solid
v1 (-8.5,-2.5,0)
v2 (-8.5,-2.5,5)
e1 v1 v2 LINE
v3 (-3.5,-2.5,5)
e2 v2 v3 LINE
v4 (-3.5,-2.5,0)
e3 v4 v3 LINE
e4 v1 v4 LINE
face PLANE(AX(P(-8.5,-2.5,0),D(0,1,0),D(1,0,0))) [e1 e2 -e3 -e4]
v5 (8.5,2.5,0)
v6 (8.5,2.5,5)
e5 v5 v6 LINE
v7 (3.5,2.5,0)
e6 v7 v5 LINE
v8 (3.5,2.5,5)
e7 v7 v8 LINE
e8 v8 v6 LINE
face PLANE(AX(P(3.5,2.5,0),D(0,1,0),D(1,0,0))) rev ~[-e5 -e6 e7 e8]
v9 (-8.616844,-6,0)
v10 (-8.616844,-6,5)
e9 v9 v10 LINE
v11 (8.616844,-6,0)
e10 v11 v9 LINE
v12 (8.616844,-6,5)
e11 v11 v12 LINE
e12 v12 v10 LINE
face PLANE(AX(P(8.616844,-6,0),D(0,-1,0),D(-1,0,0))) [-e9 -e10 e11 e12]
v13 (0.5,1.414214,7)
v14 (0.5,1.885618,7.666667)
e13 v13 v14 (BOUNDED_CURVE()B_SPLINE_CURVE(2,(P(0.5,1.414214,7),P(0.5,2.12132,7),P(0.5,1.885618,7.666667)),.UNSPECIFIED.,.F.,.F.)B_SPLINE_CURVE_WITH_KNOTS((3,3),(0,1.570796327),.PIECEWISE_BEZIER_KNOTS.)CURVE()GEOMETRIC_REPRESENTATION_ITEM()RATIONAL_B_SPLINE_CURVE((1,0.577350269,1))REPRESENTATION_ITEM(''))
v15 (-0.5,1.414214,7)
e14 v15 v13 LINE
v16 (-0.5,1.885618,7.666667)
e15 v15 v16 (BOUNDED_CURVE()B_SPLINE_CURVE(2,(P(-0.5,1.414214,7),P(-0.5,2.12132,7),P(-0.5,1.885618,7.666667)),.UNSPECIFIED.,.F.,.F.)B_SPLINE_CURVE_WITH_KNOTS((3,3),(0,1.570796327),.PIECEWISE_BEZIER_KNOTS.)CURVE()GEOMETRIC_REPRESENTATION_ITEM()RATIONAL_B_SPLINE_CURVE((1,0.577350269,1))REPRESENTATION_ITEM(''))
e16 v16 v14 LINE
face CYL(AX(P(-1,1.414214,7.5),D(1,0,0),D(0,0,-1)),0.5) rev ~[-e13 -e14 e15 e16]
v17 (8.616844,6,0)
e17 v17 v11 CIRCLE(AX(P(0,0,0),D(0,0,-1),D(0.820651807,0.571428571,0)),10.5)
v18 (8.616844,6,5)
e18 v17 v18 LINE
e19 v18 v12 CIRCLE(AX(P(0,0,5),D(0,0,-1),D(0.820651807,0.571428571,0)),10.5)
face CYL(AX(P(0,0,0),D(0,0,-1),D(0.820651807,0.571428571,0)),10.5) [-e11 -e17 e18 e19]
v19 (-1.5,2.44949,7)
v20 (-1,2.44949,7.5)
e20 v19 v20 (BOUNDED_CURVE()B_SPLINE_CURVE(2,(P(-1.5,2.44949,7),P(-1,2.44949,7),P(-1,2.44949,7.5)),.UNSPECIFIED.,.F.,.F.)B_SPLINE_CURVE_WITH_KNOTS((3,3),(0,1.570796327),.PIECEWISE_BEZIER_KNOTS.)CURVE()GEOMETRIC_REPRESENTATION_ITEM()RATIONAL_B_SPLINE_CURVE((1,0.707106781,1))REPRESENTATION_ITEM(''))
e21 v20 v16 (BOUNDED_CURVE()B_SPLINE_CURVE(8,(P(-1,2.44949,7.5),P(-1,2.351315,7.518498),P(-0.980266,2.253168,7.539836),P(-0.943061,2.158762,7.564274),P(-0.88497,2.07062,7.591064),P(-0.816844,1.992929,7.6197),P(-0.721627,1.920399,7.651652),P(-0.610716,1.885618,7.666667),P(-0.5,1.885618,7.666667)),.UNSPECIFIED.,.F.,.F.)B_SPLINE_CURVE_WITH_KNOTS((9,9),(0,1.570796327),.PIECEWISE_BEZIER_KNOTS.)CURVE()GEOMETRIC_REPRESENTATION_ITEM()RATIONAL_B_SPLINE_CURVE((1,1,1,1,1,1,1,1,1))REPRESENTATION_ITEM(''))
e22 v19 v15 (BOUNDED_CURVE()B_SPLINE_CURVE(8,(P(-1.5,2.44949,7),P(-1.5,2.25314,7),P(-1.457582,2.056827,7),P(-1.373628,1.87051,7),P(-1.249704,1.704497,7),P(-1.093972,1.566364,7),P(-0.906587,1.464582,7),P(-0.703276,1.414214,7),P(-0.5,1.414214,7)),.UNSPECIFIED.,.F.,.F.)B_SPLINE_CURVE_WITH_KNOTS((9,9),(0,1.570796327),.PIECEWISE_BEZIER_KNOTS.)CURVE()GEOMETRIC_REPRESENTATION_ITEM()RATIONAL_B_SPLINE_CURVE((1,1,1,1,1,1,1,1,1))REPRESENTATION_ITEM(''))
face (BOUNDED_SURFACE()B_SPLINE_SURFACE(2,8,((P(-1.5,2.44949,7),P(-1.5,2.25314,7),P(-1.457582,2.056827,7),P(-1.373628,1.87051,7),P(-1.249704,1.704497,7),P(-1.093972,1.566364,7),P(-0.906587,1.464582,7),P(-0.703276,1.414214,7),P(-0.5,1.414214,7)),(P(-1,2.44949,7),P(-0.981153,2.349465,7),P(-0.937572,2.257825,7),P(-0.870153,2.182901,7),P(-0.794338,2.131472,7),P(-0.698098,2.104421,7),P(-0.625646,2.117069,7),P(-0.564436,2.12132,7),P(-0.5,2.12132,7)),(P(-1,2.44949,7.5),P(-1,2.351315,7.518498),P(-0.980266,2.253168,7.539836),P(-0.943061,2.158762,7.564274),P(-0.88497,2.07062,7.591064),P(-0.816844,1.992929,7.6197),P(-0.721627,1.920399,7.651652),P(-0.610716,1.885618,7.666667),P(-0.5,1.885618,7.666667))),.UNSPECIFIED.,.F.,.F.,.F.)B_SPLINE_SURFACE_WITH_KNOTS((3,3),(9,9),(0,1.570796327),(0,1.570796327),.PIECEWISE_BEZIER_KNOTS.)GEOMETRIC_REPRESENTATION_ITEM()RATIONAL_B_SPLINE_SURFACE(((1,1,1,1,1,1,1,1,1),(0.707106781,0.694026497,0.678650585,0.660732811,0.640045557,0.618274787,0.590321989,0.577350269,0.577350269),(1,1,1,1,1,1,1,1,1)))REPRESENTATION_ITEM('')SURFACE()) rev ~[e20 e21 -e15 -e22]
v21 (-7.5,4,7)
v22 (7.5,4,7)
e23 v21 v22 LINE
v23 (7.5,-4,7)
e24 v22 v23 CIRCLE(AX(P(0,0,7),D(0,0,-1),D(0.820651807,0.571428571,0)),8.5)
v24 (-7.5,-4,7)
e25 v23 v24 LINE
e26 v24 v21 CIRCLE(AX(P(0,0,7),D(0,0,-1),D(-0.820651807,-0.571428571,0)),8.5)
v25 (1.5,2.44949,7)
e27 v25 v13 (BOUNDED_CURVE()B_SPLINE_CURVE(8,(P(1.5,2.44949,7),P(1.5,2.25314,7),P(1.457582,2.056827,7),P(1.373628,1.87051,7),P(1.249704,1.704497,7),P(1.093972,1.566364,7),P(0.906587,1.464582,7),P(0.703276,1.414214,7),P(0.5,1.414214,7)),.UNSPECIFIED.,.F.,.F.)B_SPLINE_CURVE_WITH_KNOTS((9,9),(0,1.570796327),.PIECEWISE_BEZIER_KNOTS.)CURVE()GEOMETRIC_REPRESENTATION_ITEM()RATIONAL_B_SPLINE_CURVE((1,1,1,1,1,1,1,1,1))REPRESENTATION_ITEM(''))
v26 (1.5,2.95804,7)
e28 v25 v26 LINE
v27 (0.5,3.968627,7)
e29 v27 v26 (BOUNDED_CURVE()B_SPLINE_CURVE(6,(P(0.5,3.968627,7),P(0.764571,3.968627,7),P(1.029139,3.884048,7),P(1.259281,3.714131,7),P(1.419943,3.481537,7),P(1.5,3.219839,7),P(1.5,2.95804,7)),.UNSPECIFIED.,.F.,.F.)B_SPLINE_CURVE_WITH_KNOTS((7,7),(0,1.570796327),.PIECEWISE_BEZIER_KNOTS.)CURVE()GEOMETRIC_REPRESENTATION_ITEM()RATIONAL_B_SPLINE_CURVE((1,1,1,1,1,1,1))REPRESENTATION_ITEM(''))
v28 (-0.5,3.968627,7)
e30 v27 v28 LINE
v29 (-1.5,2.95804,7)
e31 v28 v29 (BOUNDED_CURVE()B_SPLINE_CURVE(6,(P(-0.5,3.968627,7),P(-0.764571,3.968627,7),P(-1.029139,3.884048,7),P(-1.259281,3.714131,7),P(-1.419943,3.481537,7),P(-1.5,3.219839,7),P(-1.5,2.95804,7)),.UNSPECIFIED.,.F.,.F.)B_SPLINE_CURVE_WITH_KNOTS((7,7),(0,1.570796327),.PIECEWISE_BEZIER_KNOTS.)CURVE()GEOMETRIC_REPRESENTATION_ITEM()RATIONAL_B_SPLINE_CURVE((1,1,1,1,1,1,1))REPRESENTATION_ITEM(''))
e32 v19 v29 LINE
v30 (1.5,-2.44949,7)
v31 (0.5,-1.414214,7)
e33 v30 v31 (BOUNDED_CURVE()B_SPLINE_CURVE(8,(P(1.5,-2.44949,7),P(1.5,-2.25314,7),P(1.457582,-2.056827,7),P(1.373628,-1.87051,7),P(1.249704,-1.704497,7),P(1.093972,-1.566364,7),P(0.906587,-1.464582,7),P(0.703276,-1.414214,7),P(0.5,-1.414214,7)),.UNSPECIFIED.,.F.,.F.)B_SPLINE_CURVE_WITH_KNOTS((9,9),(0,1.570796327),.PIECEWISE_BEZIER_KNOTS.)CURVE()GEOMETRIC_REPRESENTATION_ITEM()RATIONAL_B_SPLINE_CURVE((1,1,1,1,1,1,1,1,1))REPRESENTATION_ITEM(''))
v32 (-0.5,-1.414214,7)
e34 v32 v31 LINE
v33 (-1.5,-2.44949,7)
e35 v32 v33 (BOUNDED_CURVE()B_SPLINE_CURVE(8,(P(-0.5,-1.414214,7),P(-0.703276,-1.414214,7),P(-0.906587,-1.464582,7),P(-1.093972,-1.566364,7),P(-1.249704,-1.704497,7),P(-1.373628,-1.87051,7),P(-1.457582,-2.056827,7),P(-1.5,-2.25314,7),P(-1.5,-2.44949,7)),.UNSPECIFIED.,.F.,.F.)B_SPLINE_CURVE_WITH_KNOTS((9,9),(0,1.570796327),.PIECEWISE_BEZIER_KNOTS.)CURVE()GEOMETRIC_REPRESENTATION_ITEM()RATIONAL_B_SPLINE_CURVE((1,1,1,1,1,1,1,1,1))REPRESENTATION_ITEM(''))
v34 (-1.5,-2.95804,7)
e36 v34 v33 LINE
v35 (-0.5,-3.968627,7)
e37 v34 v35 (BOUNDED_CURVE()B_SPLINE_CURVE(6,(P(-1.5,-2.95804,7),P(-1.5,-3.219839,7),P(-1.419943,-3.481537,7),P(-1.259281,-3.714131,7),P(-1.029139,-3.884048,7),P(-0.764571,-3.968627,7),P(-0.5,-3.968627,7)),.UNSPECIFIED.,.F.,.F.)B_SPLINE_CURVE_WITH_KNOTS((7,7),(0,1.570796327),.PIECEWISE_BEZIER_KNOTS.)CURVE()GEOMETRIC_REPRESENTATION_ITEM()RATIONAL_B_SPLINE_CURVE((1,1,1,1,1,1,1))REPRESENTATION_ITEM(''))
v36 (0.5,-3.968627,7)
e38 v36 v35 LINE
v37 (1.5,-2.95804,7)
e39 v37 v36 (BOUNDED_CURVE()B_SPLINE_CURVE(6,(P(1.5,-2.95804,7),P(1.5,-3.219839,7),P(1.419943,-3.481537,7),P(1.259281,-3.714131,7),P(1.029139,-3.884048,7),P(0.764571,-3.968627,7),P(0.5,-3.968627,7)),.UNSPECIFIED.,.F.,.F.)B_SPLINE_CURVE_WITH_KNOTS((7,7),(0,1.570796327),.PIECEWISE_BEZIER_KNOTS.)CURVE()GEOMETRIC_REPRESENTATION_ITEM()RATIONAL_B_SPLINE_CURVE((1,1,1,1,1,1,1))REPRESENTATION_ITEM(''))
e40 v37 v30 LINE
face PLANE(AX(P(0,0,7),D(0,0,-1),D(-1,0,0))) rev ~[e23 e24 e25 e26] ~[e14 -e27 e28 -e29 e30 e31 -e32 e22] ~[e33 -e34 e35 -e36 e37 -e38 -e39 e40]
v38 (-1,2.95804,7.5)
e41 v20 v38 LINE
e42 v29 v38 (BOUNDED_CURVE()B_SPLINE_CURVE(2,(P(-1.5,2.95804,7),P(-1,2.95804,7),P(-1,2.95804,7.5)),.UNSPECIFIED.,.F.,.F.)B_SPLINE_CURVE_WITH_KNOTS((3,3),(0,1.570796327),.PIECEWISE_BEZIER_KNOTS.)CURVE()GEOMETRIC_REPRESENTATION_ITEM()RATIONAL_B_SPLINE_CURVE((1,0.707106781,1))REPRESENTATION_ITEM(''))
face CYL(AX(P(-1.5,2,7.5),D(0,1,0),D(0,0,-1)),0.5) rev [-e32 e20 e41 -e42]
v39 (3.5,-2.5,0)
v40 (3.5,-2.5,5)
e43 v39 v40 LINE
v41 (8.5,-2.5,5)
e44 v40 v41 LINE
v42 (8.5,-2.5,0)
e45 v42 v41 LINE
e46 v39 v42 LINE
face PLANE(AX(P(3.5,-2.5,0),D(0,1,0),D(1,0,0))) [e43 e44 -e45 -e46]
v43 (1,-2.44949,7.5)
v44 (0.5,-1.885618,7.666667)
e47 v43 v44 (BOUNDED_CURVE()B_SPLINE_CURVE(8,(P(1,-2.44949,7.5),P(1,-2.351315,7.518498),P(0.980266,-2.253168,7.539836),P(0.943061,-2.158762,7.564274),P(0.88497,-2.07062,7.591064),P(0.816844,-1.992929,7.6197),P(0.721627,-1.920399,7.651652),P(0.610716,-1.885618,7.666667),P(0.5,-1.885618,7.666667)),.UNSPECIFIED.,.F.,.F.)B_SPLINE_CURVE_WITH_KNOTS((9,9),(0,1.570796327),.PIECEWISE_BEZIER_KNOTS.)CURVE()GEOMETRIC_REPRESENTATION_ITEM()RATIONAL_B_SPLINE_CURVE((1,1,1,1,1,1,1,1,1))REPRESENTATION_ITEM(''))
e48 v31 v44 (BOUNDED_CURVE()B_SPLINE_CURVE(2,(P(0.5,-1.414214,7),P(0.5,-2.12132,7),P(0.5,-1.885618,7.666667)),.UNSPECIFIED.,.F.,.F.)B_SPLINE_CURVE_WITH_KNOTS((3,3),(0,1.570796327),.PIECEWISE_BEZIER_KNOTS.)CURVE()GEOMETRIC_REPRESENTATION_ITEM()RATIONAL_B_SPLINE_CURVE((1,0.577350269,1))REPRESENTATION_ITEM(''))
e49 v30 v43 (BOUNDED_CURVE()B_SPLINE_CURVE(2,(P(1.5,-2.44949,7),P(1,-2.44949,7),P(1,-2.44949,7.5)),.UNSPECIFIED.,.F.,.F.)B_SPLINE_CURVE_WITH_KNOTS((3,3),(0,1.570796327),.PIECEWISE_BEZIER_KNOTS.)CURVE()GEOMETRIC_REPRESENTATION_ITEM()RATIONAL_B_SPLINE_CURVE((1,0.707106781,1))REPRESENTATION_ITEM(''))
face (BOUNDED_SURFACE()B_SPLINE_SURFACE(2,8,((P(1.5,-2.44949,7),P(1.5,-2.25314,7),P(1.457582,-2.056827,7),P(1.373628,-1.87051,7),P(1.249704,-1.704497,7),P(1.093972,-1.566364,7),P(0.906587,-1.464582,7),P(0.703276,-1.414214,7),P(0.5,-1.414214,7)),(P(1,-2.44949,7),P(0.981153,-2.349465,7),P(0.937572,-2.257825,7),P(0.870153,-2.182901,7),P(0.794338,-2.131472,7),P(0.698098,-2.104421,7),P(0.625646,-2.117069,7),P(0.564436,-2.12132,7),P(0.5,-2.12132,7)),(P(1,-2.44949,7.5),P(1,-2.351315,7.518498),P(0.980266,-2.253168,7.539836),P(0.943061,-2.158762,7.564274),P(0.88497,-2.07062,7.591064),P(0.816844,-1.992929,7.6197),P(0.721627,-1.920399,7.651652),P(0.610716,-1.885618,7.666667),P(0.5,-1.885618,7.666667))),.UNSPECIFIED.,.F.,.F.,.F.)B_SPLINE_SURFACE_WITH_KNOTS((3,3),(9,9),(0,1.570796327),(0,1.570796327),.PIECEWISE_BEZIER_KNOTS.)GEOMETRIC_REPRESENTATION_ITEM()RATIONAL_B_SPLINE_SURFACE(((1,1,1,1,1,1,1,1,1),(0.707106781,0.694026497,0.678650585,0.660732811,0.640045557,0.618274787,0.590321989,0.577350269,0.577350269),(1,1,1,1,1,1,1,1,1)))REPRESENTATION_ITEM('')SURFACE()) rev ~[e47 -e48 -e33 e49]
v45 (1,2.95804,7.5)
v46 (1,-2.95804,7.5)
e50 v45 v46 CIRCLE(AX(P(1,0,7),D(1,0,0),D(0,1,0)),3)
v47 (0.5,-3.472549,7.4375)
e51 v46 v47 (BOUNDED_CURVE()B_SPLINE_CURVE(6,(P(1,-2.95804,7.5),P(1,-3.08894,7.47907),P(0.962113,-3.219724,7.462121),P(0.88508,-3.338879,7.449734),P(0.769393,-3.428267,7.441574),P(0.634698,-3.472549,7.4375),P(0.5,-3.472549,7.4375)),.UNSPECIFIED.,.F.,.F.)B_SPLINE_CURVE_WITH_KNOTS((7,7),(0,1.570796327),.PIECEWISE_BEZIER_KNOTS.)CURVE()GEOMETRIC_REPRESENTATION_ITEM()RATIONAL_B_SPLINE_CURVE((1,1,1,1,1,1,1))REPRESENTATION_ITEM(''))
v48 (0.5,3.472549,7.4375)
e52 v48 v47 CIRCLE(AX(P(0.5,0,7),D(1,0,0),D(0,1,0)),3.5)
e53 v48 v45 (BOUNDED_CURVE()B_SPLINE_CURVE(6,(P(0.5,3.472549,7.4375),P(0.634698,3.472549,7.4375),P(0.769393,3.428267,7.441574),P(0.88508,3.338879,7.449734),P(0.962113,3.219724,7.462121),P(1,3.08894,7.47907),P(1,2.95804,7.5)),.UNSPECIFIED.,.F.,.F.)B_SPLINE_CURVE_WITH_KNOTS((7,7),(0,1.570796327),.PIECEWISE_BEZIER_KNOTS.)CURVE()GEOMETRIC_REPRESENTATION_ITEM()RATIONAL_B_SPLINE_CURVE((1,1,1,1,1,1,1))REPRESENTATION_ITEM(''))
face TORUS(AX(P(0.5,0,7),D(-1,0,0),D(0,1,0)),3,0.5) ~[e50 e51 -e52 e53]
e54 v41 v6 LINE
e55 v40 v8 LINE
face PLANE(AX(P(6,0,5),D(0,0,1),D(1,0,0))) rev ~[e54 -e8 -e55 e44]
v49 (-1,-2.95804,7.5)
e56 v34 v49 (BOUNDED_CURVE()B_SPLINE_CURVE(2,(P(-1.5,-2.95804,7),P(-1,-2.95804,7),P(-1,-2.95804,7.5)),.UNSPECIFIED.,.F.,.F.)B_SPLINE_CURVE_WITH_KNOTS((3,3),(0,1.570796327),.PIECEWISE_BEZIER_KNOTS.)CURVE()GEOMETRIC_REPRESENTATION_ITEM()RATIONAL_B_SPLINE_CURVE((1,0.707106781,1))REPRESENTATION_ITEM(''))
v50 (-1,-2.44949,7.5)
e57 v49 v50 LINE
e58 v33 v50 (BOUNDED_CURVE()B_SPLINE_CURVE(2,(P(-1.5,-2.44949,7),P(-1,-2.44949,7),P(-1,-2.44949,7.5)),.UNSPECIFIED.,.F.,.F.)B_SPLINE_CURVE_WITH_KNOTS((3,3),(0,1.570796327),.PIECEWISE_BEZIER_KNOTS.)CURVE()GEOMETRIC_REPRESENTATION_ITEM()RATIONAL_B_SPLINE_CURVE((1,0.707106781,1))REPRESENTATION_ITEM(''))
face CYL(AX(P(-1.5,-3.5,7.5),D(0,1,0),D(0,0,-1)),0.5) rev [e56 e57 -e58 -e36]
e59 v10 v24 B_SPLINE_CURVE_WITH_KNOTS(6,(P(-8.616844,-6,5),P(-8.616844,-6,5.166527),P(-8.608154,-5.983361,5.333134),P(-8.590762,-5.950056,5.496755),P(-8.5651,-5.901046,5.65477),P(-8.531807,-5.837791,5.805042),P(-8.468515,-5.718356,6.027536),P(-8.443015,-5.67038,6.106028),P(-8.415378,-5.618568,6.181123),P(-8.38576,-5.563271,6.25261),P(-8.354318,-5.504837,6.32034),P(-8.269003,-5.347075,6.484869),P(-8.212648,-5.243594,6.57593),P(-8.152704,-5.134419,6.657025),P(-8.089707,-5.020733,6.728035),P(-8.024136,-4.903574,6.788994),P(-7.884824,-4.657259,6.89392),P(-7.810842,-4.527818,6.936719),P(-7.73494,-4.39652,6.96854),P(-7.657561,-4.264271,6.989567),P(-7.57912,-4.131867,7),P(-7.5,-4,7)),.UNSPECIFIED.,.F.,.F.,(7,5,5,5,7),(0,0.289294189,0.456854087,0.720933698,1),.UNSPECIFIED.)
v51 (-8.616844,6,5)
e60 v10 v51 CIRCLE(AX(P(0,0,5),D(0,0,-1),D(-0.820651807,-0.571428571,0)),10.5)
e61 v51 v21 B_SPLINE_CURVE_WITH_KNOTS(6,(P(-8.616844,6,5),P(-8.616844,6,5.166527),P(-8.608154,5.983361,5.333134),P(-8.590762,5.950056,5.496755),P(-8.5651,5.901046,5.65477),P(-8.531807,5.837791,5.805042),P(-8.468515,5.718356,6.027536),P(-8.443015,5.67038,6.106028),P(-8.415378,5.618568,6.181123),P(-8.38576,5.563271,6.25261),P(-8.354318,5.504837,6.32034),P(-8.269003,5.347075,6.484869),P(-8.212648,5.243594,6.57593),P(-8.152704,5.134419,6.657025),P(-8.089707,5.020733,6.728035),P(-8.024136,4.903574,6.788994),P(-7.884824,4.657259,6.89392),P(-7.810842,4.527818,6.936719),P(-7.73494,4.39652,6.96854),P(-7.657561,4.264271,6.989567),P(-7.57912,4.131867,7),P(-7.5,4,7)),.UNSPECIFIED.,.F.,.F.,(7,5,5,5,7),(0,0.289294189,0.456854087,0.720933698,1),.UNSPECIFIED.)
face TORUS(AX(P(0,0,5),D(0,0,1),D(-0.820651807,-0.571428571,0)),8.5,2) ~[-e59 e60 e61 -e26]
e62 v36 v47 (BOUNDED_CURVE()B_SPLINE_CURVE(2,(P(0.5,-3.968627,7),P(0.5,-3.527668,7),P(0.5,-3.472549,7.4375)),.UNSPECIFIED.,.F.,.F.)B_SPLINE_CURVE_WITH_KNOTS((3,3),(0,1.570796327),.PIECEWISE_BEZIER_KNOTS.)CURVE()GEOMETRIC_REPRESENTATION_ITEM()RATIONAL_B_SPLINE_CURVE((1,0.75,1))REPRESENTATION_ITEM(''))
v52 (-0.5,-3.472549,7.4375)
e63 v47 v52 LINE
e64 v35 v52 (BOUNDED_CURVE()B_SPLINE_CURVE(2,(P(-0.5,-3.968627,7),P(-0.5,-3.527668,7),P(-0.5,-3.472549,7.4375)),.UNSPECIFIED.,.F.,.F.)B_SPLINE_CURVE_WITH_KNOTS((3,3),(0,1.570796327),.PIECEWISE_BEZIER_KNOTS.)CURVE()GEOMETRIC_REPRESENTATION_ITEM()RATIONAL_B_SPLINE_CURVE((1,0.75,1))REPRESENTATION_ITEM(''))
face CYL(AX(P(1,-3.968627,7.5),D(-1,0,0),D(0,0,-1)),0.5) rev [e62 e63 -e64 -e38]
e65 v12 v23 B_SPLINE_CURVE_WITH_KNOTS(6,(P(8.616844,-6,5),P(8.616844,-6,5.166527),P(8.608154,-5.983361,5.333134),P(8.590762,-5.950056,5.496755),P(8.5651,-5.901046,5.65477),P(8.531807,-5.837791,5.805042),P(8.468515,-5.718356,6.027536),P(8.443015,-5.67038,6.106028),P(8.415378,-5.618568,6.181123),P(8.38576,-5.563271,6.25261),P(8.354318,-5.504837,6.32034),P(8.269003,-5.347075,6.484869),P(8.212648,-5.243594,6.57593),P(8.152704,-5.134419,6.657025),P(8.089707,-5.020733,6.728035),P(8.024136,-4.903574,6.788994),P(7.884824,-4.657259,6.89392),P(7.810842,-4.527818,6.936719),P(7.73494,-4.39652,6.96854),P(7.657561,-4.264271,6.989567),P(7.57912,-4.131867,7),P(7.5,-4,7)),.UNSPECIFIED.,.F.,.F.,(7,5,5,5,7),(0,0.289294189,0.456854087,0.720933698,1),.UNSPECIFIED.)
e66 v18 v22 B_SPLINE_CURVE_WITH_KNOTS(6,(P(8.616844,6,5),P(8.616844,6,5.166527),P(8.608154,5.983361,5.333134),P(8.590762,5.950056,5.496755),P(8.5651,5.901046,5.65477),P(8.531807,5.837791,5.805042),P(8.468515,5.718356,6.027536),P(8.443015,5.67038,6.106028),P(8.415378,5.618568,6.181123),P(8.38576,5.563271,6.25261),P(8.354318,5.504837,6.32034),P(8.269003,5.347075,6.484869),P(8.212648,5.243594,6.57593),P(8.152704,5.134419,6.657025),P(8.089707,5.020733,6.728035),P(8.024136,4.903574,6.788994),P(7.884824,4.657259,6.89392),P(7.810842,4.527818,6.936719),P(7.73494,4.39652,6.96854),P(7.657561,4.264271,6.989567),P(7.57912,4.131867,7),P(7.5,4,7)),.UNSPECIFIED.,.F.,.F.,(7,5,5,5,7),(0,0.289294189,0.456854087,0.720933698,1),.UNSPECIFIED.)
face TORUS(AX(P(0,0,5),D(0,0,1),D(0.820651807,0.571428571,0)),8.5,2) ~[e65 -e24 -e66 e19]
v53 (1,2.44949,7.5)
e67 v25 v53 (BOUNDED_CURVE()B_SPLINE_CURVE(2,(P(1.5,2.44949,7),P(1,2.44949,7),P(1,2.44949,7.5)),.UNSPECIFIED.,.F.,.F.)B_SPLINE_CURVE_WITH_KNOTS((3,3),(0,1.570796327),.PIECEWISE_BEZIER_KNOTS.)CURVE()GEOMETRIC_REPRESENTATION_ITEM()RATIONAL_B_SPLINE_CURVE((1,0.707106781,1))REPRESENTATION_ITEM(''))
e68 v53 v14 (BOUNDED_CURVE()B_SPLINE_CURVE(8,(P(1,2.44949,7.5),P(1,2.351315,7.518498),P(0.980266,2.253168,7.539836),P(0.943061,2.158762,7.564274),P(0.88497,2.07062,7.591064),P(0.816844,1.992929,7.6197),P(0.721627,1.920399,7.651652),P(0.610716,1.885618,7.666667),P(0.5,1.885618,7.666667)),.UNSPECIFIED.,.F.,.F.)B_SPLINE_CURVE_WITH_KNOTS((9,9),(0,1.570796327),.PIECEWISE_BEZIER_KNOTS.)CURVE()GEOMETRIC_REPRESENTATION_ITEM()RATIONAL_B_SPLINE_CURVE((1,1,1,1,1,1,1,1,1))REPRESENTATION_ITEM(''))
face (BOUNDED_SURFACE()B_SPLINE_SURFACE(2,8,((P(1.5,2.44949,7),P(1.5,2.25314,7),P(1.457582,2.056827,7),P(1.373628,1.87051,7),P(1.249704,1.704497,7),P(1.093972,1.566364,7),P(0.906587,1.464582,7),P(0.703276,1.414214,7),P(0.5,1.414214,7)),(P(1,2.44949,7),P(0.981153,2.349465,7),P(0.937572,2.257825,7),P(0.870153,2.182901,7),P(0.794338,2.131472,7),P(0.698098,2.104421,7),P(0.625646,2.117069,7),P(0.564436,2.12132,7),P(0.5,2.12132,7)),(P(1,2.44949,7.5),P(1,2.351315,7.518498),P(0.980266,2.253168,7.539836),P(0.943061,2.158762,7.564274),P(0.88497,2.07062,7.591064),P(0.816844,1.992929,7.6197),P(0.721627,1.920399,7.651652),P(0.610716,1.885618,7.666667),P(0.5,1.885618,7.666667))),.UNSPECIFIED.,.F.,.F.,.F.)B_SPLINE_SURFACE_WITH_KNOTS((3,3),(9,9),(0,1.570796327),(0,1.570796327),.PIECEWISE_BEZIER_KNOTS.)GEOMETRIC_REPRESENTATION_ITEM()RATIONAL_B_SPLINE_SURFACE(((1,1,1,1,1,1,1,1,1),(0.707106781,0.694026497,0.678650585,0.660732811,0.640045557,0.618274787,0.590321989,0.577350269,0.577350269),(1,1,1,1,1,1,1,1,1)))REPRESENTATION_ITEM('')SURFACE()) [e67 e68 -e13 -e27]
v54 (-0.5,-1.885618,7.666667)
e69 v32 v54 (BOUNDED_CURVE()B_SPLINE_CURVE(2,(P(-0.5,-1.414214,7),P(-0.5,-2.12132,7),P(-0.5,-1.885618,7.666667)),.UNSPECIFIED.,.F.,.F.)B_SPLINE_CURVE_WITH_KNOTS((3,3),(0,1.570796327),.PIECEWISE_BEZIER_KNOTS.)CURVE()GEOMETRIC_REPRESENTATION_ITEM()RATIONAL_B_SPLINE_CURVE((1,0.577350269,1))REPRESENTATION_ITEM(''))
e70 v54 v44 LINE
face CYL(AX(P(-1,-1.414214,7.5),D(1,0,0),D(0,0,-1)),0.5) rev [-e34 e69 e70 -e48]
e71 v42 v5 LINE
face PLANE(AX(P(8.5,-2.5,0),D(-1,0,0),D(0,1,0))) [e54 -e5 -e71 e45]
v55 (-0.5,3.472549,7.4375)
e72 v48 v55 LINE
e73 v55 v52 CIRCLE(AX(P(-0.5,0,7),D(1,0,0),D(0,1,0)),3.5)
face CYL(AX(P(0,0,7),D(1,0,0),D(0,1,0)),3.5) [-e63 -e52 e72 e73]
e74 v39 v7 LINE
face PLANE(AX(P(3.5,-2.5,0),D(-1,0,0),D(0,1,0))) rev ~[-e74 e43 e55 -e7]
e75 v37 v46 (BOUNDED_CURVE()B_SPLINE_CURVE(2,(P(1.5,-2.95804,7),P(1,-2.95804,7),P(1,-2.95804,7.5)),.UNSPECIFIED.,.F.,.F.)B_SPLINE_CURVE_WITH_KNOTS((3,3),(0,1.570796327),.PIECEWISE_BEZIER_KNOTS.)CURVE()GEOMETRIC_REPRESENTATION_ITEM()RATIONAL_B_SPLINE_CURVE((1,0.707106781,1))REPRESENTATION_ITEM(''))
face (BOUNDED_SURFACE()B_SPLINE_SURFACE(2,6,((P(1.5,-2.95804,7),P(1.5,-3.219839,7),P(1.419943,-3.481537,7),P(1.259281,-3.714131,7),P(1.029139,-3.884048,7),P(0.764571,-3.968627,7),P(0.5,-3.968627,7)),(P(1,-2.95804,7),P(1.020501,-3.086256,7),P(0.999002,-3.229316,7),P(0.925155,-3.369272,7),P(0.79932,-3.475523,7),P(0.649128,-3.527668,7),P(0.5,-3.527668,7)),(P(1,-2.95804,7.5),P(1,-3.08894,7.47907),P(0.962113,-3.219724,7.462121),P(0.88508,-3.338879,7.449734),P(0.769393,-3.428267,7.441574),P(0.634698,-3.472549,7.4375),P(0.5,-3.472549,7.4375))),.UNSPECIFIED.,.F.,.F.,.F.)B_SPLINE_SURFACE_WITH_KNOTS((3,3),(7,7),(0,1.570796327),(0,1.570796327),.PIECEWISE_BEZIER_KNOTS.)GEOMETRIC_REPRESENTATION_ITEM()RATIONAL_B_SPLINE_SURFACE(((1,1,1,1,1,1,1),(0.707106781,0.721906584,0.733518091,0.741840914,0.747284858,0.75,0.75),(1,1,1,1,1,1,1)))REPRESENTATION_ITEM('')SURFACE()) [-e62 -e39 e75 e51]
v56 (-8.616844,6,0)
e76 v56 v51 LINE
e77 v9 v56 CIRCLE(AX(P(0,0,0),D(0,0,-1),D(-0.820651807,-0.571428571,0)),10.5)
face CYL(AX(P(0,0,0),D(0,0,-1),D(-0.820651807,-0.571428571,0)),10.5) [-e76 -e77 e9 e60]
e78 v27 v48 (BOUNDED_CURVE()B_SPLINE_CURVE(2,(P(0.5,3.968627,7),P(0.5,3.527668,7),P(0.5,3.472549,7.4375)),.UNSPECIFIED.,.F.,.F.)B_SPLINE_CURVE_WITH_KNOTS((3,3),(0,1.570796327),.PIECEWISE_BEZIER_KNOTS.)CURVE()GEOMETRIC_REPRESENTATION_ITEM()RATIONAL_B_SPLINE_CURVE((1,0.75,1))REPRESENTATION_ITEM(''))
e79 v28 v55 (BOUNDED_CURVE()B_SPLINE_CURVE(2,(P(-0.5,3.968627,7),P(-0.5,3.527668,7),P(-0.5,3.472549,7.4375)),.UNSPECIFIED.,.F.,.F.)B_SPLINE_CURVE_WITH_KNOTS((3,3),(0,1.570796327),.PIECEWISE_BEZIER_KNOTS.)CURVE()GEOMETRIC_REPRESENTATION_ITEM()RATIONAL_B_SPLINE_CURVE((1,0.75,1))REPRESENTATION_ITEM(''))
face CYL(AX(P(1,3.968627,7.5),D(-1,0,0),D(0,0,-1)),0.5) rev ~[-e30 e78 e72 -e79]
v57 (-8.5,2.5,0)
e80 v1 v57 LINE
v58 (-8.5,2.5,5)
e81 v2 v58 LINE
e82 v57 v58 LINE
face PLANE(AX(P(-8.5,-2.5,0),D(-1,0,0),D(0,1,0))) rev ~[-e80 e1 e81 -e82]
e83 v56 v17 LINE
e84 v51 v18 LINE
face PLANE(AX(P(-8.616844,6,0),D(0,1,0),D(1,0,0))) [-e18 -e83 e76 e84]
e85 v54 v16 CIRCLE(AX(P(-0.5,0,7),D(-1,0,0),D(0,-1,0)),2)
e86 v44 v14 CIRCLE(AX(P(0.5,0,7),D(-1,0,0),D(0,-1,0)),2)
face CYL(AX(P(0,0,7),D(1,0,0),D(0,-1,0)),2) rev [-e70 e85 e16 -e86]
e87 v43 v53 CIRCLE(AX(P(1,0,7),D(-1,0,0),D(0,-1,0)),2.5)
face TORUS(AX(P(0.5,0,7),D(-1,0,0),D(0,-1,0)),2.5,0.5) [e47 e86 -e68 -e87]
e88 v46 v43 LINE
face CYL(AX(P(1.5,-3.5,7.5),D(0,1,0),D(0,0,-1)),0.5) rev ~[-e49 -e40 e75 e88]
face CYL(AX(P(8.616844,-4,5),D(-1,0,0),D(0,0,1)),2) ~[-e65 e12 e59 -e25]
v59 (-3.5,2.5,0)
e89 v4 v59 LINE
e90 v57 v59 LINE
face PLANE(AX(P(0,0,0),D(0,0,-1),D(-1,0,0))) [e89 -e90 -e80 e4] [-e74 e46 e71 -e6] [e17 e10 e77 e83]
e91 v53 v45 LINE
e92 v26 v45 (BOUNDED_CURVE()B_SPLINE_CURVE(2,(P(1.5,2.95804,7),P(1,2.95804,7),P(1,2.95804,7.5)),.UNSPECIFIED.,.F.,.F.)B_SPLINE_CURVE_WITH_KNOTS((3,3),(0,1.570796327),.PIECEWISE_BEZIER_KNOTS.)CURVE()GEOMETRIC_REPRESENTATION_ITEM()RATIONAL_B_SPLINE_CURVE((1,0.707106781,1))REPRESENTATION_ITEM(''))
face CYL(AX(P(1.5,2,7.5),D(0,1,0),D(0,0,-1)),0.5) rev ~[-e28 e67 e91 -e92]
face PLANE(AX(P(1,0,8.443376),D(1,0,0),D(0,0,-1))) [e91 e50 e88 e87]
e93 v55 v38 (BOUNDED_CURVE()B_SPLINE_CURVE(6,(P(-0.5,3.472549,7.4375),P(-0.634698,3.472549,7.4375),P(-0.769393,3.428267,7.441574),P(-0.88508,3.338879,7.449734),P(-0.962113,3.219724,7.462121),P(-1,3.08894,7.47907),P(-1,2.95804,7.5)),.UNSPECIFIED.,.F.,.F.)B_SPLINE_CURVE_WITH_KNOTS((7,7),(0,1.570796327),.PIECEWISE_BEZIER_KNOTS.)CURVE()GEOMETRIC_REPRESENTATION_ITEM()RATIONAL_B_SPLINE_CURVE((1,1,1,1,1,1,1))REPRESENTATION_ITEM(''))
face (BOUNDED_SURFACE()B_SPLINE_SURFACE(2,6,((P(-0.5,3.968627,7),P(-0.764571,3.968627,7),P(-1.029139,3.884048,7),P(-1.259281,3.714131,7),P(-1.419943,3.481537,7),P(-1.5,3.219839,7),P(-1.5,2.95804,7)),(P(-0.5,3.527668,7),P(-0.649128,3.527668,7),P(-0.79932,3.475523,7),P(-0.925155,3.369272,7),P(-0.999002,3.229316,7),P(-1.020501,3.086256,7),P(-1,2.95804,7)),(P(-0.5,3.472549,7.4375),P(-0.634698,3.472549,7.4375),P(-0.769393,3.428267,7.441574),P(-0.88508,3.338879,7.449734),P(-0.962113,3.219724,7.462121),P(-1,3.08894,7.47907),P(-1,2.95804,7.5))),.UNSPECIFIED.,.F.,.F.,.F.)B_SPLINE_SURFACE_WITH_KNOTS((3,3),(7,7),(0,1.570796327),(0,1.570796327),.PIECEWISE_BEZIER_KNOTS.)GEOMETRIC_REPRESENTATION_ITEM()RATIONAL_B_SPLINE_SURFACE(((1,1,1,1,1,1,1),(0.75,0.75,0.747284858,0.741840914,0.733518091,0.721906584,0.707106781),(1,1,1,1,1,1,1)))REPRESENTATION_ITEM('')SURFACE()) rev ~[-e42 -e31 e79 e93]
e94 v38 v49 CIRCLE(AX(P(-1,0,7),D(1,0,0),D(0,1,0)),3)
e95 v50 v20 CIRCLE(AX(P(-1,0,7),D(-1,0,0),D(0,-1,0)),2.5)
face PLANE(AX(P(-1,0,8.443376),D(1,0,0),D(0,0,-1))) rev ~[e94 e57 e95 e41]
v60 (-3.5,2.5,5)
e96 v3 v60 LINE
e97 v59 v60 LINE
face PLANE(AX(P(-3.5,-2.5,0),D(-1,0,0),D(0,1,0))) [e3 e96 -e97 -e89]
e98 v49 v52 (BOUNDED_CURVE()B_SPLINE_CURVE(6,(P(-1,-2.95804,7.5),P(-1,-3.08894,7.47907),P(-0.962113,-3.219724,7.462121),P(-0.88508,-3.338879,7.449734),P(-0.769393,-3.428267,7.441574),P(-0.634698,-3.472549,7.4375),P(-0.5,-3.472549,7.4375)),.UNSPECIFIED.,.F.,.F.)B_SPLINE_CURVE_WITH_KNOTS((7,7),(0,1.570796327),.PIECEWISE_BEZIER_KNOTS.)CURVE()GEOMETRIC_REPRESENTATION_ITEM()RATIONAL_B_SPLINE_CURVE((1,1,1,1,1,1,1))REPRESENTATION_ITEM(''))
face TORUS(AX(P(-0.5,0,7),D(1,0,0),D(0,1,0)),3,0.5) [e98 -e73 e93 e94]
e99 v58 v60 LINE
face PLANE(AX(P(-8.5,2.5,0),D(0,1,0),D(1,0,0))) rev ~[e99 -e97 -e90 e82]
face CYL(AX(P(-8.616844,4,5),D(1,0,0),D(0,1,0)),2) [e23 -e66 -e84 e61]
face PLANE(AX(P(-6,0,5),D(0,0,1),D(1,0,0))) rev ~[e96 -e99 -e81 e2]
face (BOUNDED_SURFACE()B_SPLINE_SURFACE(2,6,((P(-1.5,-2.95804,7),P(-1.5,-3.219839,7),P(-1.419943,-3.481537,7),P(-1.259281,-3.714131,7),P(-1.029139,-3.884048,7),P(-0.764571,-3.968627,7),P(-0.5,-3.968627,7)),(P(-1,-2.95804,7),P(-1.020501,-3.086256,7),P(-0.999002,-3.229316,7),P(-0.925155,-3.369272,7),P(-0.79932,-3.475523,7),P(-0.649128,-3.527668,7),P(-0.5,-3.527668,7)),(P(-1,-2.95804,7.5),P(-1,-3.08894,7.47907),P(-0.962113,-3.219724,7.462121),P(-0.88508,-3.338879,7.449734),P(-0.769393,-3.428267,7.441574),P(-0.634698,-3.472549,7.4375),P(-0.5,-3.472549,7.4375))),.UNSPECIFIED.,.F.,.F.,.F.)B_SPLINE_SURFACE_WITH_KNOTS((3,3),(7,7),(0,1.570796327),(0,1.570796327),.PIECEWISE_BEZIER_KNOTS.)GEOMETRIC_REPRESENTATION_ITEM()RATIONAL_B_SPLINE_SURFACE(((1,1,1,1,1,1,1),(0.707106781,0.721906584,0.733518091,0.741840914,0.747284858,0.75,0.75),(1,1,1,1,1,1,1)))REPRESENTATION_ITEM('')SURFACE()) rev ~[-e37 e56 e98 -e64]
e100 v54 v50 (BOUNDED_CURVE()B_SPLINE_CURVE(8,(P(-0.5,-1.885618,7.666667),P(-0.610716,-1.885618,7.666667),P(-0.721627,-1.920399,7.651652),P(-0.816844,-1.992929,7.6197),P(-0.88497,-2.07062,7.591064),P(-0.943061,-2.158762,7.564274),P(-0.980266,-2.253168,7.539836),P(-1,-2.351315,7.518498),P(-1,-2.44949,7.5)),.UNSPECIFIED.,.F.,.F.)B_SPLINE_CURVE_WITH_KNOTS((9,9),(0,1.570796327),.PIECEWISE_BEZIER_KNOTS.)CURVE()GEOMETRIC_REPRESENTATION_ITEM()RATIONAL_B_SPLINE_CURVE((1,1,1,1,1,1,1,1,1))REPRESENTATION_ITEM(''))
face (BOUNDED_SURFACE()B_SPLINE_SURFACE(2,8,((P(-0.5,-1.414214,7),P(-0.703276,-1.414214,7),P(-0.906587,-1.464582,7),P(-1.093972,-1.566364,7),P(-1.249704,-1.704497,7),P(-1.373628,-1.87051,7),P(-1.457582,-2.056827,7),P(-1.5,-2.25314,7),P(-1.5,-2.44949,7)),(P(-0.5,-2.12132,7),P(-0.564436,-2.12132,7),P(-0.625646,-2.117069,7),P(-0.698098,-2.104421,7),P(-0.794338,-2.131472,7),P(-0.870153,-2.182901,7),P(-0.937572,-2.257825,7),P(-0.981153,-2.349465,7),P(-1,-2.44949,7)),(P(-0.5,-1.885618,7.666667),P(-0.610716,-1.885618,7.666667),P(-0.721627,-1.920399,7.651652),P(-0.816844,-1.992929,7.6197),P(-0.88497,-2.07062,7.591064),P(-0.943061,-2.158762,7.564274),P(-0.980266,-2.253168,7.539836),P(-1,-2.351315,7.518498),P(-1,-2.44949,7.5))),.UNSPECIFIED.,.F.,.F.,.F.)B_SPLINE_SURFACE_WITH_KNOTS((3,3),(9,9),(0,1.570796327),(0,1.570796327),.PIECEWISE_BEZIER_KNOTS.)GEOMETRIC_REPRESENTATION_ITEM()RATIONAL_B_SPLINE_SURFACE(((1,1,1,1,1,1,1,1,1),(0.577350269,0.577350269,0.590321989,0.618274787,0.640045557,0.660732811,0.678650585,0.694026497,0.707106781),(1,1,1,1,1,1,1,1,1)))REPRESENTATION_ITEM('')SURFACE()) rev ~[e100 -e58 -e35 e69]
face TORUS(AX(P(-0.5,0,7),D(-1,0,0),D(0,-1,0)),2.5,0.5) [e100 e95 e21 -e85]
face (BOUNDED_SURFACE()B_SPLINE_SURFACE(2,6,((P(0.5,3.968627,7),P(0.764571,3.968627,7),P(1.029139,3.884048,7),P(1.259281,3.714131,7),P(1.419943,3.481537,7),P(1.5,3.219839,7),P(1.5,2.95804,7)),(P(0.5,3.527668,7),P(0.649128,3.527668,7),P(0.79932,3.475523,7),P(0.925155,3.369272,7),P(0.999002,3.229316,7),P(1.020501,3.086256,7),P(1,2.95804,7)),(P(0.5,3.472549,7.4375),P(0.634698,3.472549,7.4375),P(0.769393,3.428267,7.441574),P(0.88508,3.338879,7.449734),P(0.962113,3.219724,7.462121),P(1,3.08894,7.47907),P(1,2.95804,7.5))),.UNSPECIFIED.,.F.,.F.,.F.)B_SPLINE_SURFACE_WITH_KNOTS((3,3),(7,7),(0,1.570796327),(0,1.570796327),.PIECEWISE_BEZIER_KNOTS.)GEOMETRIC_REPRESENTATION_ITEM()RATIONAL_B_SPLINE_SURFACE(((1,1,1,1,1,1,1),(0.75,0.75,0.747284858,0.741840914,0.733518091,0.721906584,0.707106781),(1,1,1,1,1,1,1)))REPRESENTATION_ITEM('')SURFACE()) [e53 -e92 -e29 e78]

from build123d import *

# Parameters (mm, degrees)
BOSS_EXTRU_1_DEPTH      = 7
ESQUISSE2_W             = 5
ESQUISSE2_H             = 5
ENL_V_MAT_EXTRU_2_DEPTH = 5
CONG_1_R                = 2
BOSS_EXTRU_2_DEPTH      = 1
CONG_4_R                = 0.5


with BuildPart() as part:
    # Esquisse1 → Boss.-Extru.1 (new body)
    with BuildSketch(Plane.XY):
        with BuildLine():
            Line((-8.61684397, 6), (8.61684397, 6))
            ThreePointArc((8.61684397, 6), (10.5, 0), (8.61684397, -6))
            Line((8.61684397, -6), (-8.61684397, -6))
            ThreePointArc((-8.61684397, -6), (-10.5, 0), (-8.61684397, 6))
        make_face()
    extrude(amount=BOSS_EXTRU_1_DEPTH)

    # Esquisse2 → Enlèv. mat.-Extru.2 (cut)
    with BuildSketch(Plane.XY):
        with Locations((-6, 0)):
            Rectangle(ESQUISSE2_W, ESQUISSE2_H)
        with Locations((6, 0)):
            Rectangle(ESQUISSE2_W, ESQUISSE2_H)
    extrude(amount=ENL_V_MAT_EXTRU_2_DEPTH, mode=Mode.SUBTRACT)

    # Congé1
    cong_1_edges = [part.edges().sort_by_distance(p)[0] for p in [
        (10.5, 0, 7),
        (0, 6, 7),
        (-10.5, 0, 7),
        (0, -6, 7),
    ]]
    fillet(cong_1_edges, radius=CONG_1_R)

    # Esquisse3 → Boss.-Extru.2 (add, symmetric)
    with BuildSketch(Plane(origin=(0, 0, 0), x_dir=(0, 0, -1), z_dir=(1, 0, 0))):
        with BuildLine():
            Line((-7, -3.5), (-7, -2))
            ThreePointArc((-7, -2), (-9, 0), (-7, 2))
            Line((-7, 2), (-7, 3.5))
            ThreePointArc((-7, 3.5), (-10.5, 0), (-7, -3.5))
        make_face()
    extrude(amount=BOSS_EXTRU_2_DEPTH, both=True)

    # Congé4
    cong_4_edges = [part.edges().sort_by_distance(p)[0] for p in [
        (-1, 0, 9),
        (0, -2, 7),
        (-1, 2.75, 7),
        (0, 2, 7),
        (-1, 0, 10.5),
        (0, 3.5, 7),
        (-1, -2.75, 7),
        (0, -3.5, 7),
        (1, 0, 9),
        (1, 2.75, 7),
        (1, 0, 10.5),
        (1, -2.75, 7),
    ]]
    fillet(cong_4_edges, radius=CONG_4_R)


solid = part.part
